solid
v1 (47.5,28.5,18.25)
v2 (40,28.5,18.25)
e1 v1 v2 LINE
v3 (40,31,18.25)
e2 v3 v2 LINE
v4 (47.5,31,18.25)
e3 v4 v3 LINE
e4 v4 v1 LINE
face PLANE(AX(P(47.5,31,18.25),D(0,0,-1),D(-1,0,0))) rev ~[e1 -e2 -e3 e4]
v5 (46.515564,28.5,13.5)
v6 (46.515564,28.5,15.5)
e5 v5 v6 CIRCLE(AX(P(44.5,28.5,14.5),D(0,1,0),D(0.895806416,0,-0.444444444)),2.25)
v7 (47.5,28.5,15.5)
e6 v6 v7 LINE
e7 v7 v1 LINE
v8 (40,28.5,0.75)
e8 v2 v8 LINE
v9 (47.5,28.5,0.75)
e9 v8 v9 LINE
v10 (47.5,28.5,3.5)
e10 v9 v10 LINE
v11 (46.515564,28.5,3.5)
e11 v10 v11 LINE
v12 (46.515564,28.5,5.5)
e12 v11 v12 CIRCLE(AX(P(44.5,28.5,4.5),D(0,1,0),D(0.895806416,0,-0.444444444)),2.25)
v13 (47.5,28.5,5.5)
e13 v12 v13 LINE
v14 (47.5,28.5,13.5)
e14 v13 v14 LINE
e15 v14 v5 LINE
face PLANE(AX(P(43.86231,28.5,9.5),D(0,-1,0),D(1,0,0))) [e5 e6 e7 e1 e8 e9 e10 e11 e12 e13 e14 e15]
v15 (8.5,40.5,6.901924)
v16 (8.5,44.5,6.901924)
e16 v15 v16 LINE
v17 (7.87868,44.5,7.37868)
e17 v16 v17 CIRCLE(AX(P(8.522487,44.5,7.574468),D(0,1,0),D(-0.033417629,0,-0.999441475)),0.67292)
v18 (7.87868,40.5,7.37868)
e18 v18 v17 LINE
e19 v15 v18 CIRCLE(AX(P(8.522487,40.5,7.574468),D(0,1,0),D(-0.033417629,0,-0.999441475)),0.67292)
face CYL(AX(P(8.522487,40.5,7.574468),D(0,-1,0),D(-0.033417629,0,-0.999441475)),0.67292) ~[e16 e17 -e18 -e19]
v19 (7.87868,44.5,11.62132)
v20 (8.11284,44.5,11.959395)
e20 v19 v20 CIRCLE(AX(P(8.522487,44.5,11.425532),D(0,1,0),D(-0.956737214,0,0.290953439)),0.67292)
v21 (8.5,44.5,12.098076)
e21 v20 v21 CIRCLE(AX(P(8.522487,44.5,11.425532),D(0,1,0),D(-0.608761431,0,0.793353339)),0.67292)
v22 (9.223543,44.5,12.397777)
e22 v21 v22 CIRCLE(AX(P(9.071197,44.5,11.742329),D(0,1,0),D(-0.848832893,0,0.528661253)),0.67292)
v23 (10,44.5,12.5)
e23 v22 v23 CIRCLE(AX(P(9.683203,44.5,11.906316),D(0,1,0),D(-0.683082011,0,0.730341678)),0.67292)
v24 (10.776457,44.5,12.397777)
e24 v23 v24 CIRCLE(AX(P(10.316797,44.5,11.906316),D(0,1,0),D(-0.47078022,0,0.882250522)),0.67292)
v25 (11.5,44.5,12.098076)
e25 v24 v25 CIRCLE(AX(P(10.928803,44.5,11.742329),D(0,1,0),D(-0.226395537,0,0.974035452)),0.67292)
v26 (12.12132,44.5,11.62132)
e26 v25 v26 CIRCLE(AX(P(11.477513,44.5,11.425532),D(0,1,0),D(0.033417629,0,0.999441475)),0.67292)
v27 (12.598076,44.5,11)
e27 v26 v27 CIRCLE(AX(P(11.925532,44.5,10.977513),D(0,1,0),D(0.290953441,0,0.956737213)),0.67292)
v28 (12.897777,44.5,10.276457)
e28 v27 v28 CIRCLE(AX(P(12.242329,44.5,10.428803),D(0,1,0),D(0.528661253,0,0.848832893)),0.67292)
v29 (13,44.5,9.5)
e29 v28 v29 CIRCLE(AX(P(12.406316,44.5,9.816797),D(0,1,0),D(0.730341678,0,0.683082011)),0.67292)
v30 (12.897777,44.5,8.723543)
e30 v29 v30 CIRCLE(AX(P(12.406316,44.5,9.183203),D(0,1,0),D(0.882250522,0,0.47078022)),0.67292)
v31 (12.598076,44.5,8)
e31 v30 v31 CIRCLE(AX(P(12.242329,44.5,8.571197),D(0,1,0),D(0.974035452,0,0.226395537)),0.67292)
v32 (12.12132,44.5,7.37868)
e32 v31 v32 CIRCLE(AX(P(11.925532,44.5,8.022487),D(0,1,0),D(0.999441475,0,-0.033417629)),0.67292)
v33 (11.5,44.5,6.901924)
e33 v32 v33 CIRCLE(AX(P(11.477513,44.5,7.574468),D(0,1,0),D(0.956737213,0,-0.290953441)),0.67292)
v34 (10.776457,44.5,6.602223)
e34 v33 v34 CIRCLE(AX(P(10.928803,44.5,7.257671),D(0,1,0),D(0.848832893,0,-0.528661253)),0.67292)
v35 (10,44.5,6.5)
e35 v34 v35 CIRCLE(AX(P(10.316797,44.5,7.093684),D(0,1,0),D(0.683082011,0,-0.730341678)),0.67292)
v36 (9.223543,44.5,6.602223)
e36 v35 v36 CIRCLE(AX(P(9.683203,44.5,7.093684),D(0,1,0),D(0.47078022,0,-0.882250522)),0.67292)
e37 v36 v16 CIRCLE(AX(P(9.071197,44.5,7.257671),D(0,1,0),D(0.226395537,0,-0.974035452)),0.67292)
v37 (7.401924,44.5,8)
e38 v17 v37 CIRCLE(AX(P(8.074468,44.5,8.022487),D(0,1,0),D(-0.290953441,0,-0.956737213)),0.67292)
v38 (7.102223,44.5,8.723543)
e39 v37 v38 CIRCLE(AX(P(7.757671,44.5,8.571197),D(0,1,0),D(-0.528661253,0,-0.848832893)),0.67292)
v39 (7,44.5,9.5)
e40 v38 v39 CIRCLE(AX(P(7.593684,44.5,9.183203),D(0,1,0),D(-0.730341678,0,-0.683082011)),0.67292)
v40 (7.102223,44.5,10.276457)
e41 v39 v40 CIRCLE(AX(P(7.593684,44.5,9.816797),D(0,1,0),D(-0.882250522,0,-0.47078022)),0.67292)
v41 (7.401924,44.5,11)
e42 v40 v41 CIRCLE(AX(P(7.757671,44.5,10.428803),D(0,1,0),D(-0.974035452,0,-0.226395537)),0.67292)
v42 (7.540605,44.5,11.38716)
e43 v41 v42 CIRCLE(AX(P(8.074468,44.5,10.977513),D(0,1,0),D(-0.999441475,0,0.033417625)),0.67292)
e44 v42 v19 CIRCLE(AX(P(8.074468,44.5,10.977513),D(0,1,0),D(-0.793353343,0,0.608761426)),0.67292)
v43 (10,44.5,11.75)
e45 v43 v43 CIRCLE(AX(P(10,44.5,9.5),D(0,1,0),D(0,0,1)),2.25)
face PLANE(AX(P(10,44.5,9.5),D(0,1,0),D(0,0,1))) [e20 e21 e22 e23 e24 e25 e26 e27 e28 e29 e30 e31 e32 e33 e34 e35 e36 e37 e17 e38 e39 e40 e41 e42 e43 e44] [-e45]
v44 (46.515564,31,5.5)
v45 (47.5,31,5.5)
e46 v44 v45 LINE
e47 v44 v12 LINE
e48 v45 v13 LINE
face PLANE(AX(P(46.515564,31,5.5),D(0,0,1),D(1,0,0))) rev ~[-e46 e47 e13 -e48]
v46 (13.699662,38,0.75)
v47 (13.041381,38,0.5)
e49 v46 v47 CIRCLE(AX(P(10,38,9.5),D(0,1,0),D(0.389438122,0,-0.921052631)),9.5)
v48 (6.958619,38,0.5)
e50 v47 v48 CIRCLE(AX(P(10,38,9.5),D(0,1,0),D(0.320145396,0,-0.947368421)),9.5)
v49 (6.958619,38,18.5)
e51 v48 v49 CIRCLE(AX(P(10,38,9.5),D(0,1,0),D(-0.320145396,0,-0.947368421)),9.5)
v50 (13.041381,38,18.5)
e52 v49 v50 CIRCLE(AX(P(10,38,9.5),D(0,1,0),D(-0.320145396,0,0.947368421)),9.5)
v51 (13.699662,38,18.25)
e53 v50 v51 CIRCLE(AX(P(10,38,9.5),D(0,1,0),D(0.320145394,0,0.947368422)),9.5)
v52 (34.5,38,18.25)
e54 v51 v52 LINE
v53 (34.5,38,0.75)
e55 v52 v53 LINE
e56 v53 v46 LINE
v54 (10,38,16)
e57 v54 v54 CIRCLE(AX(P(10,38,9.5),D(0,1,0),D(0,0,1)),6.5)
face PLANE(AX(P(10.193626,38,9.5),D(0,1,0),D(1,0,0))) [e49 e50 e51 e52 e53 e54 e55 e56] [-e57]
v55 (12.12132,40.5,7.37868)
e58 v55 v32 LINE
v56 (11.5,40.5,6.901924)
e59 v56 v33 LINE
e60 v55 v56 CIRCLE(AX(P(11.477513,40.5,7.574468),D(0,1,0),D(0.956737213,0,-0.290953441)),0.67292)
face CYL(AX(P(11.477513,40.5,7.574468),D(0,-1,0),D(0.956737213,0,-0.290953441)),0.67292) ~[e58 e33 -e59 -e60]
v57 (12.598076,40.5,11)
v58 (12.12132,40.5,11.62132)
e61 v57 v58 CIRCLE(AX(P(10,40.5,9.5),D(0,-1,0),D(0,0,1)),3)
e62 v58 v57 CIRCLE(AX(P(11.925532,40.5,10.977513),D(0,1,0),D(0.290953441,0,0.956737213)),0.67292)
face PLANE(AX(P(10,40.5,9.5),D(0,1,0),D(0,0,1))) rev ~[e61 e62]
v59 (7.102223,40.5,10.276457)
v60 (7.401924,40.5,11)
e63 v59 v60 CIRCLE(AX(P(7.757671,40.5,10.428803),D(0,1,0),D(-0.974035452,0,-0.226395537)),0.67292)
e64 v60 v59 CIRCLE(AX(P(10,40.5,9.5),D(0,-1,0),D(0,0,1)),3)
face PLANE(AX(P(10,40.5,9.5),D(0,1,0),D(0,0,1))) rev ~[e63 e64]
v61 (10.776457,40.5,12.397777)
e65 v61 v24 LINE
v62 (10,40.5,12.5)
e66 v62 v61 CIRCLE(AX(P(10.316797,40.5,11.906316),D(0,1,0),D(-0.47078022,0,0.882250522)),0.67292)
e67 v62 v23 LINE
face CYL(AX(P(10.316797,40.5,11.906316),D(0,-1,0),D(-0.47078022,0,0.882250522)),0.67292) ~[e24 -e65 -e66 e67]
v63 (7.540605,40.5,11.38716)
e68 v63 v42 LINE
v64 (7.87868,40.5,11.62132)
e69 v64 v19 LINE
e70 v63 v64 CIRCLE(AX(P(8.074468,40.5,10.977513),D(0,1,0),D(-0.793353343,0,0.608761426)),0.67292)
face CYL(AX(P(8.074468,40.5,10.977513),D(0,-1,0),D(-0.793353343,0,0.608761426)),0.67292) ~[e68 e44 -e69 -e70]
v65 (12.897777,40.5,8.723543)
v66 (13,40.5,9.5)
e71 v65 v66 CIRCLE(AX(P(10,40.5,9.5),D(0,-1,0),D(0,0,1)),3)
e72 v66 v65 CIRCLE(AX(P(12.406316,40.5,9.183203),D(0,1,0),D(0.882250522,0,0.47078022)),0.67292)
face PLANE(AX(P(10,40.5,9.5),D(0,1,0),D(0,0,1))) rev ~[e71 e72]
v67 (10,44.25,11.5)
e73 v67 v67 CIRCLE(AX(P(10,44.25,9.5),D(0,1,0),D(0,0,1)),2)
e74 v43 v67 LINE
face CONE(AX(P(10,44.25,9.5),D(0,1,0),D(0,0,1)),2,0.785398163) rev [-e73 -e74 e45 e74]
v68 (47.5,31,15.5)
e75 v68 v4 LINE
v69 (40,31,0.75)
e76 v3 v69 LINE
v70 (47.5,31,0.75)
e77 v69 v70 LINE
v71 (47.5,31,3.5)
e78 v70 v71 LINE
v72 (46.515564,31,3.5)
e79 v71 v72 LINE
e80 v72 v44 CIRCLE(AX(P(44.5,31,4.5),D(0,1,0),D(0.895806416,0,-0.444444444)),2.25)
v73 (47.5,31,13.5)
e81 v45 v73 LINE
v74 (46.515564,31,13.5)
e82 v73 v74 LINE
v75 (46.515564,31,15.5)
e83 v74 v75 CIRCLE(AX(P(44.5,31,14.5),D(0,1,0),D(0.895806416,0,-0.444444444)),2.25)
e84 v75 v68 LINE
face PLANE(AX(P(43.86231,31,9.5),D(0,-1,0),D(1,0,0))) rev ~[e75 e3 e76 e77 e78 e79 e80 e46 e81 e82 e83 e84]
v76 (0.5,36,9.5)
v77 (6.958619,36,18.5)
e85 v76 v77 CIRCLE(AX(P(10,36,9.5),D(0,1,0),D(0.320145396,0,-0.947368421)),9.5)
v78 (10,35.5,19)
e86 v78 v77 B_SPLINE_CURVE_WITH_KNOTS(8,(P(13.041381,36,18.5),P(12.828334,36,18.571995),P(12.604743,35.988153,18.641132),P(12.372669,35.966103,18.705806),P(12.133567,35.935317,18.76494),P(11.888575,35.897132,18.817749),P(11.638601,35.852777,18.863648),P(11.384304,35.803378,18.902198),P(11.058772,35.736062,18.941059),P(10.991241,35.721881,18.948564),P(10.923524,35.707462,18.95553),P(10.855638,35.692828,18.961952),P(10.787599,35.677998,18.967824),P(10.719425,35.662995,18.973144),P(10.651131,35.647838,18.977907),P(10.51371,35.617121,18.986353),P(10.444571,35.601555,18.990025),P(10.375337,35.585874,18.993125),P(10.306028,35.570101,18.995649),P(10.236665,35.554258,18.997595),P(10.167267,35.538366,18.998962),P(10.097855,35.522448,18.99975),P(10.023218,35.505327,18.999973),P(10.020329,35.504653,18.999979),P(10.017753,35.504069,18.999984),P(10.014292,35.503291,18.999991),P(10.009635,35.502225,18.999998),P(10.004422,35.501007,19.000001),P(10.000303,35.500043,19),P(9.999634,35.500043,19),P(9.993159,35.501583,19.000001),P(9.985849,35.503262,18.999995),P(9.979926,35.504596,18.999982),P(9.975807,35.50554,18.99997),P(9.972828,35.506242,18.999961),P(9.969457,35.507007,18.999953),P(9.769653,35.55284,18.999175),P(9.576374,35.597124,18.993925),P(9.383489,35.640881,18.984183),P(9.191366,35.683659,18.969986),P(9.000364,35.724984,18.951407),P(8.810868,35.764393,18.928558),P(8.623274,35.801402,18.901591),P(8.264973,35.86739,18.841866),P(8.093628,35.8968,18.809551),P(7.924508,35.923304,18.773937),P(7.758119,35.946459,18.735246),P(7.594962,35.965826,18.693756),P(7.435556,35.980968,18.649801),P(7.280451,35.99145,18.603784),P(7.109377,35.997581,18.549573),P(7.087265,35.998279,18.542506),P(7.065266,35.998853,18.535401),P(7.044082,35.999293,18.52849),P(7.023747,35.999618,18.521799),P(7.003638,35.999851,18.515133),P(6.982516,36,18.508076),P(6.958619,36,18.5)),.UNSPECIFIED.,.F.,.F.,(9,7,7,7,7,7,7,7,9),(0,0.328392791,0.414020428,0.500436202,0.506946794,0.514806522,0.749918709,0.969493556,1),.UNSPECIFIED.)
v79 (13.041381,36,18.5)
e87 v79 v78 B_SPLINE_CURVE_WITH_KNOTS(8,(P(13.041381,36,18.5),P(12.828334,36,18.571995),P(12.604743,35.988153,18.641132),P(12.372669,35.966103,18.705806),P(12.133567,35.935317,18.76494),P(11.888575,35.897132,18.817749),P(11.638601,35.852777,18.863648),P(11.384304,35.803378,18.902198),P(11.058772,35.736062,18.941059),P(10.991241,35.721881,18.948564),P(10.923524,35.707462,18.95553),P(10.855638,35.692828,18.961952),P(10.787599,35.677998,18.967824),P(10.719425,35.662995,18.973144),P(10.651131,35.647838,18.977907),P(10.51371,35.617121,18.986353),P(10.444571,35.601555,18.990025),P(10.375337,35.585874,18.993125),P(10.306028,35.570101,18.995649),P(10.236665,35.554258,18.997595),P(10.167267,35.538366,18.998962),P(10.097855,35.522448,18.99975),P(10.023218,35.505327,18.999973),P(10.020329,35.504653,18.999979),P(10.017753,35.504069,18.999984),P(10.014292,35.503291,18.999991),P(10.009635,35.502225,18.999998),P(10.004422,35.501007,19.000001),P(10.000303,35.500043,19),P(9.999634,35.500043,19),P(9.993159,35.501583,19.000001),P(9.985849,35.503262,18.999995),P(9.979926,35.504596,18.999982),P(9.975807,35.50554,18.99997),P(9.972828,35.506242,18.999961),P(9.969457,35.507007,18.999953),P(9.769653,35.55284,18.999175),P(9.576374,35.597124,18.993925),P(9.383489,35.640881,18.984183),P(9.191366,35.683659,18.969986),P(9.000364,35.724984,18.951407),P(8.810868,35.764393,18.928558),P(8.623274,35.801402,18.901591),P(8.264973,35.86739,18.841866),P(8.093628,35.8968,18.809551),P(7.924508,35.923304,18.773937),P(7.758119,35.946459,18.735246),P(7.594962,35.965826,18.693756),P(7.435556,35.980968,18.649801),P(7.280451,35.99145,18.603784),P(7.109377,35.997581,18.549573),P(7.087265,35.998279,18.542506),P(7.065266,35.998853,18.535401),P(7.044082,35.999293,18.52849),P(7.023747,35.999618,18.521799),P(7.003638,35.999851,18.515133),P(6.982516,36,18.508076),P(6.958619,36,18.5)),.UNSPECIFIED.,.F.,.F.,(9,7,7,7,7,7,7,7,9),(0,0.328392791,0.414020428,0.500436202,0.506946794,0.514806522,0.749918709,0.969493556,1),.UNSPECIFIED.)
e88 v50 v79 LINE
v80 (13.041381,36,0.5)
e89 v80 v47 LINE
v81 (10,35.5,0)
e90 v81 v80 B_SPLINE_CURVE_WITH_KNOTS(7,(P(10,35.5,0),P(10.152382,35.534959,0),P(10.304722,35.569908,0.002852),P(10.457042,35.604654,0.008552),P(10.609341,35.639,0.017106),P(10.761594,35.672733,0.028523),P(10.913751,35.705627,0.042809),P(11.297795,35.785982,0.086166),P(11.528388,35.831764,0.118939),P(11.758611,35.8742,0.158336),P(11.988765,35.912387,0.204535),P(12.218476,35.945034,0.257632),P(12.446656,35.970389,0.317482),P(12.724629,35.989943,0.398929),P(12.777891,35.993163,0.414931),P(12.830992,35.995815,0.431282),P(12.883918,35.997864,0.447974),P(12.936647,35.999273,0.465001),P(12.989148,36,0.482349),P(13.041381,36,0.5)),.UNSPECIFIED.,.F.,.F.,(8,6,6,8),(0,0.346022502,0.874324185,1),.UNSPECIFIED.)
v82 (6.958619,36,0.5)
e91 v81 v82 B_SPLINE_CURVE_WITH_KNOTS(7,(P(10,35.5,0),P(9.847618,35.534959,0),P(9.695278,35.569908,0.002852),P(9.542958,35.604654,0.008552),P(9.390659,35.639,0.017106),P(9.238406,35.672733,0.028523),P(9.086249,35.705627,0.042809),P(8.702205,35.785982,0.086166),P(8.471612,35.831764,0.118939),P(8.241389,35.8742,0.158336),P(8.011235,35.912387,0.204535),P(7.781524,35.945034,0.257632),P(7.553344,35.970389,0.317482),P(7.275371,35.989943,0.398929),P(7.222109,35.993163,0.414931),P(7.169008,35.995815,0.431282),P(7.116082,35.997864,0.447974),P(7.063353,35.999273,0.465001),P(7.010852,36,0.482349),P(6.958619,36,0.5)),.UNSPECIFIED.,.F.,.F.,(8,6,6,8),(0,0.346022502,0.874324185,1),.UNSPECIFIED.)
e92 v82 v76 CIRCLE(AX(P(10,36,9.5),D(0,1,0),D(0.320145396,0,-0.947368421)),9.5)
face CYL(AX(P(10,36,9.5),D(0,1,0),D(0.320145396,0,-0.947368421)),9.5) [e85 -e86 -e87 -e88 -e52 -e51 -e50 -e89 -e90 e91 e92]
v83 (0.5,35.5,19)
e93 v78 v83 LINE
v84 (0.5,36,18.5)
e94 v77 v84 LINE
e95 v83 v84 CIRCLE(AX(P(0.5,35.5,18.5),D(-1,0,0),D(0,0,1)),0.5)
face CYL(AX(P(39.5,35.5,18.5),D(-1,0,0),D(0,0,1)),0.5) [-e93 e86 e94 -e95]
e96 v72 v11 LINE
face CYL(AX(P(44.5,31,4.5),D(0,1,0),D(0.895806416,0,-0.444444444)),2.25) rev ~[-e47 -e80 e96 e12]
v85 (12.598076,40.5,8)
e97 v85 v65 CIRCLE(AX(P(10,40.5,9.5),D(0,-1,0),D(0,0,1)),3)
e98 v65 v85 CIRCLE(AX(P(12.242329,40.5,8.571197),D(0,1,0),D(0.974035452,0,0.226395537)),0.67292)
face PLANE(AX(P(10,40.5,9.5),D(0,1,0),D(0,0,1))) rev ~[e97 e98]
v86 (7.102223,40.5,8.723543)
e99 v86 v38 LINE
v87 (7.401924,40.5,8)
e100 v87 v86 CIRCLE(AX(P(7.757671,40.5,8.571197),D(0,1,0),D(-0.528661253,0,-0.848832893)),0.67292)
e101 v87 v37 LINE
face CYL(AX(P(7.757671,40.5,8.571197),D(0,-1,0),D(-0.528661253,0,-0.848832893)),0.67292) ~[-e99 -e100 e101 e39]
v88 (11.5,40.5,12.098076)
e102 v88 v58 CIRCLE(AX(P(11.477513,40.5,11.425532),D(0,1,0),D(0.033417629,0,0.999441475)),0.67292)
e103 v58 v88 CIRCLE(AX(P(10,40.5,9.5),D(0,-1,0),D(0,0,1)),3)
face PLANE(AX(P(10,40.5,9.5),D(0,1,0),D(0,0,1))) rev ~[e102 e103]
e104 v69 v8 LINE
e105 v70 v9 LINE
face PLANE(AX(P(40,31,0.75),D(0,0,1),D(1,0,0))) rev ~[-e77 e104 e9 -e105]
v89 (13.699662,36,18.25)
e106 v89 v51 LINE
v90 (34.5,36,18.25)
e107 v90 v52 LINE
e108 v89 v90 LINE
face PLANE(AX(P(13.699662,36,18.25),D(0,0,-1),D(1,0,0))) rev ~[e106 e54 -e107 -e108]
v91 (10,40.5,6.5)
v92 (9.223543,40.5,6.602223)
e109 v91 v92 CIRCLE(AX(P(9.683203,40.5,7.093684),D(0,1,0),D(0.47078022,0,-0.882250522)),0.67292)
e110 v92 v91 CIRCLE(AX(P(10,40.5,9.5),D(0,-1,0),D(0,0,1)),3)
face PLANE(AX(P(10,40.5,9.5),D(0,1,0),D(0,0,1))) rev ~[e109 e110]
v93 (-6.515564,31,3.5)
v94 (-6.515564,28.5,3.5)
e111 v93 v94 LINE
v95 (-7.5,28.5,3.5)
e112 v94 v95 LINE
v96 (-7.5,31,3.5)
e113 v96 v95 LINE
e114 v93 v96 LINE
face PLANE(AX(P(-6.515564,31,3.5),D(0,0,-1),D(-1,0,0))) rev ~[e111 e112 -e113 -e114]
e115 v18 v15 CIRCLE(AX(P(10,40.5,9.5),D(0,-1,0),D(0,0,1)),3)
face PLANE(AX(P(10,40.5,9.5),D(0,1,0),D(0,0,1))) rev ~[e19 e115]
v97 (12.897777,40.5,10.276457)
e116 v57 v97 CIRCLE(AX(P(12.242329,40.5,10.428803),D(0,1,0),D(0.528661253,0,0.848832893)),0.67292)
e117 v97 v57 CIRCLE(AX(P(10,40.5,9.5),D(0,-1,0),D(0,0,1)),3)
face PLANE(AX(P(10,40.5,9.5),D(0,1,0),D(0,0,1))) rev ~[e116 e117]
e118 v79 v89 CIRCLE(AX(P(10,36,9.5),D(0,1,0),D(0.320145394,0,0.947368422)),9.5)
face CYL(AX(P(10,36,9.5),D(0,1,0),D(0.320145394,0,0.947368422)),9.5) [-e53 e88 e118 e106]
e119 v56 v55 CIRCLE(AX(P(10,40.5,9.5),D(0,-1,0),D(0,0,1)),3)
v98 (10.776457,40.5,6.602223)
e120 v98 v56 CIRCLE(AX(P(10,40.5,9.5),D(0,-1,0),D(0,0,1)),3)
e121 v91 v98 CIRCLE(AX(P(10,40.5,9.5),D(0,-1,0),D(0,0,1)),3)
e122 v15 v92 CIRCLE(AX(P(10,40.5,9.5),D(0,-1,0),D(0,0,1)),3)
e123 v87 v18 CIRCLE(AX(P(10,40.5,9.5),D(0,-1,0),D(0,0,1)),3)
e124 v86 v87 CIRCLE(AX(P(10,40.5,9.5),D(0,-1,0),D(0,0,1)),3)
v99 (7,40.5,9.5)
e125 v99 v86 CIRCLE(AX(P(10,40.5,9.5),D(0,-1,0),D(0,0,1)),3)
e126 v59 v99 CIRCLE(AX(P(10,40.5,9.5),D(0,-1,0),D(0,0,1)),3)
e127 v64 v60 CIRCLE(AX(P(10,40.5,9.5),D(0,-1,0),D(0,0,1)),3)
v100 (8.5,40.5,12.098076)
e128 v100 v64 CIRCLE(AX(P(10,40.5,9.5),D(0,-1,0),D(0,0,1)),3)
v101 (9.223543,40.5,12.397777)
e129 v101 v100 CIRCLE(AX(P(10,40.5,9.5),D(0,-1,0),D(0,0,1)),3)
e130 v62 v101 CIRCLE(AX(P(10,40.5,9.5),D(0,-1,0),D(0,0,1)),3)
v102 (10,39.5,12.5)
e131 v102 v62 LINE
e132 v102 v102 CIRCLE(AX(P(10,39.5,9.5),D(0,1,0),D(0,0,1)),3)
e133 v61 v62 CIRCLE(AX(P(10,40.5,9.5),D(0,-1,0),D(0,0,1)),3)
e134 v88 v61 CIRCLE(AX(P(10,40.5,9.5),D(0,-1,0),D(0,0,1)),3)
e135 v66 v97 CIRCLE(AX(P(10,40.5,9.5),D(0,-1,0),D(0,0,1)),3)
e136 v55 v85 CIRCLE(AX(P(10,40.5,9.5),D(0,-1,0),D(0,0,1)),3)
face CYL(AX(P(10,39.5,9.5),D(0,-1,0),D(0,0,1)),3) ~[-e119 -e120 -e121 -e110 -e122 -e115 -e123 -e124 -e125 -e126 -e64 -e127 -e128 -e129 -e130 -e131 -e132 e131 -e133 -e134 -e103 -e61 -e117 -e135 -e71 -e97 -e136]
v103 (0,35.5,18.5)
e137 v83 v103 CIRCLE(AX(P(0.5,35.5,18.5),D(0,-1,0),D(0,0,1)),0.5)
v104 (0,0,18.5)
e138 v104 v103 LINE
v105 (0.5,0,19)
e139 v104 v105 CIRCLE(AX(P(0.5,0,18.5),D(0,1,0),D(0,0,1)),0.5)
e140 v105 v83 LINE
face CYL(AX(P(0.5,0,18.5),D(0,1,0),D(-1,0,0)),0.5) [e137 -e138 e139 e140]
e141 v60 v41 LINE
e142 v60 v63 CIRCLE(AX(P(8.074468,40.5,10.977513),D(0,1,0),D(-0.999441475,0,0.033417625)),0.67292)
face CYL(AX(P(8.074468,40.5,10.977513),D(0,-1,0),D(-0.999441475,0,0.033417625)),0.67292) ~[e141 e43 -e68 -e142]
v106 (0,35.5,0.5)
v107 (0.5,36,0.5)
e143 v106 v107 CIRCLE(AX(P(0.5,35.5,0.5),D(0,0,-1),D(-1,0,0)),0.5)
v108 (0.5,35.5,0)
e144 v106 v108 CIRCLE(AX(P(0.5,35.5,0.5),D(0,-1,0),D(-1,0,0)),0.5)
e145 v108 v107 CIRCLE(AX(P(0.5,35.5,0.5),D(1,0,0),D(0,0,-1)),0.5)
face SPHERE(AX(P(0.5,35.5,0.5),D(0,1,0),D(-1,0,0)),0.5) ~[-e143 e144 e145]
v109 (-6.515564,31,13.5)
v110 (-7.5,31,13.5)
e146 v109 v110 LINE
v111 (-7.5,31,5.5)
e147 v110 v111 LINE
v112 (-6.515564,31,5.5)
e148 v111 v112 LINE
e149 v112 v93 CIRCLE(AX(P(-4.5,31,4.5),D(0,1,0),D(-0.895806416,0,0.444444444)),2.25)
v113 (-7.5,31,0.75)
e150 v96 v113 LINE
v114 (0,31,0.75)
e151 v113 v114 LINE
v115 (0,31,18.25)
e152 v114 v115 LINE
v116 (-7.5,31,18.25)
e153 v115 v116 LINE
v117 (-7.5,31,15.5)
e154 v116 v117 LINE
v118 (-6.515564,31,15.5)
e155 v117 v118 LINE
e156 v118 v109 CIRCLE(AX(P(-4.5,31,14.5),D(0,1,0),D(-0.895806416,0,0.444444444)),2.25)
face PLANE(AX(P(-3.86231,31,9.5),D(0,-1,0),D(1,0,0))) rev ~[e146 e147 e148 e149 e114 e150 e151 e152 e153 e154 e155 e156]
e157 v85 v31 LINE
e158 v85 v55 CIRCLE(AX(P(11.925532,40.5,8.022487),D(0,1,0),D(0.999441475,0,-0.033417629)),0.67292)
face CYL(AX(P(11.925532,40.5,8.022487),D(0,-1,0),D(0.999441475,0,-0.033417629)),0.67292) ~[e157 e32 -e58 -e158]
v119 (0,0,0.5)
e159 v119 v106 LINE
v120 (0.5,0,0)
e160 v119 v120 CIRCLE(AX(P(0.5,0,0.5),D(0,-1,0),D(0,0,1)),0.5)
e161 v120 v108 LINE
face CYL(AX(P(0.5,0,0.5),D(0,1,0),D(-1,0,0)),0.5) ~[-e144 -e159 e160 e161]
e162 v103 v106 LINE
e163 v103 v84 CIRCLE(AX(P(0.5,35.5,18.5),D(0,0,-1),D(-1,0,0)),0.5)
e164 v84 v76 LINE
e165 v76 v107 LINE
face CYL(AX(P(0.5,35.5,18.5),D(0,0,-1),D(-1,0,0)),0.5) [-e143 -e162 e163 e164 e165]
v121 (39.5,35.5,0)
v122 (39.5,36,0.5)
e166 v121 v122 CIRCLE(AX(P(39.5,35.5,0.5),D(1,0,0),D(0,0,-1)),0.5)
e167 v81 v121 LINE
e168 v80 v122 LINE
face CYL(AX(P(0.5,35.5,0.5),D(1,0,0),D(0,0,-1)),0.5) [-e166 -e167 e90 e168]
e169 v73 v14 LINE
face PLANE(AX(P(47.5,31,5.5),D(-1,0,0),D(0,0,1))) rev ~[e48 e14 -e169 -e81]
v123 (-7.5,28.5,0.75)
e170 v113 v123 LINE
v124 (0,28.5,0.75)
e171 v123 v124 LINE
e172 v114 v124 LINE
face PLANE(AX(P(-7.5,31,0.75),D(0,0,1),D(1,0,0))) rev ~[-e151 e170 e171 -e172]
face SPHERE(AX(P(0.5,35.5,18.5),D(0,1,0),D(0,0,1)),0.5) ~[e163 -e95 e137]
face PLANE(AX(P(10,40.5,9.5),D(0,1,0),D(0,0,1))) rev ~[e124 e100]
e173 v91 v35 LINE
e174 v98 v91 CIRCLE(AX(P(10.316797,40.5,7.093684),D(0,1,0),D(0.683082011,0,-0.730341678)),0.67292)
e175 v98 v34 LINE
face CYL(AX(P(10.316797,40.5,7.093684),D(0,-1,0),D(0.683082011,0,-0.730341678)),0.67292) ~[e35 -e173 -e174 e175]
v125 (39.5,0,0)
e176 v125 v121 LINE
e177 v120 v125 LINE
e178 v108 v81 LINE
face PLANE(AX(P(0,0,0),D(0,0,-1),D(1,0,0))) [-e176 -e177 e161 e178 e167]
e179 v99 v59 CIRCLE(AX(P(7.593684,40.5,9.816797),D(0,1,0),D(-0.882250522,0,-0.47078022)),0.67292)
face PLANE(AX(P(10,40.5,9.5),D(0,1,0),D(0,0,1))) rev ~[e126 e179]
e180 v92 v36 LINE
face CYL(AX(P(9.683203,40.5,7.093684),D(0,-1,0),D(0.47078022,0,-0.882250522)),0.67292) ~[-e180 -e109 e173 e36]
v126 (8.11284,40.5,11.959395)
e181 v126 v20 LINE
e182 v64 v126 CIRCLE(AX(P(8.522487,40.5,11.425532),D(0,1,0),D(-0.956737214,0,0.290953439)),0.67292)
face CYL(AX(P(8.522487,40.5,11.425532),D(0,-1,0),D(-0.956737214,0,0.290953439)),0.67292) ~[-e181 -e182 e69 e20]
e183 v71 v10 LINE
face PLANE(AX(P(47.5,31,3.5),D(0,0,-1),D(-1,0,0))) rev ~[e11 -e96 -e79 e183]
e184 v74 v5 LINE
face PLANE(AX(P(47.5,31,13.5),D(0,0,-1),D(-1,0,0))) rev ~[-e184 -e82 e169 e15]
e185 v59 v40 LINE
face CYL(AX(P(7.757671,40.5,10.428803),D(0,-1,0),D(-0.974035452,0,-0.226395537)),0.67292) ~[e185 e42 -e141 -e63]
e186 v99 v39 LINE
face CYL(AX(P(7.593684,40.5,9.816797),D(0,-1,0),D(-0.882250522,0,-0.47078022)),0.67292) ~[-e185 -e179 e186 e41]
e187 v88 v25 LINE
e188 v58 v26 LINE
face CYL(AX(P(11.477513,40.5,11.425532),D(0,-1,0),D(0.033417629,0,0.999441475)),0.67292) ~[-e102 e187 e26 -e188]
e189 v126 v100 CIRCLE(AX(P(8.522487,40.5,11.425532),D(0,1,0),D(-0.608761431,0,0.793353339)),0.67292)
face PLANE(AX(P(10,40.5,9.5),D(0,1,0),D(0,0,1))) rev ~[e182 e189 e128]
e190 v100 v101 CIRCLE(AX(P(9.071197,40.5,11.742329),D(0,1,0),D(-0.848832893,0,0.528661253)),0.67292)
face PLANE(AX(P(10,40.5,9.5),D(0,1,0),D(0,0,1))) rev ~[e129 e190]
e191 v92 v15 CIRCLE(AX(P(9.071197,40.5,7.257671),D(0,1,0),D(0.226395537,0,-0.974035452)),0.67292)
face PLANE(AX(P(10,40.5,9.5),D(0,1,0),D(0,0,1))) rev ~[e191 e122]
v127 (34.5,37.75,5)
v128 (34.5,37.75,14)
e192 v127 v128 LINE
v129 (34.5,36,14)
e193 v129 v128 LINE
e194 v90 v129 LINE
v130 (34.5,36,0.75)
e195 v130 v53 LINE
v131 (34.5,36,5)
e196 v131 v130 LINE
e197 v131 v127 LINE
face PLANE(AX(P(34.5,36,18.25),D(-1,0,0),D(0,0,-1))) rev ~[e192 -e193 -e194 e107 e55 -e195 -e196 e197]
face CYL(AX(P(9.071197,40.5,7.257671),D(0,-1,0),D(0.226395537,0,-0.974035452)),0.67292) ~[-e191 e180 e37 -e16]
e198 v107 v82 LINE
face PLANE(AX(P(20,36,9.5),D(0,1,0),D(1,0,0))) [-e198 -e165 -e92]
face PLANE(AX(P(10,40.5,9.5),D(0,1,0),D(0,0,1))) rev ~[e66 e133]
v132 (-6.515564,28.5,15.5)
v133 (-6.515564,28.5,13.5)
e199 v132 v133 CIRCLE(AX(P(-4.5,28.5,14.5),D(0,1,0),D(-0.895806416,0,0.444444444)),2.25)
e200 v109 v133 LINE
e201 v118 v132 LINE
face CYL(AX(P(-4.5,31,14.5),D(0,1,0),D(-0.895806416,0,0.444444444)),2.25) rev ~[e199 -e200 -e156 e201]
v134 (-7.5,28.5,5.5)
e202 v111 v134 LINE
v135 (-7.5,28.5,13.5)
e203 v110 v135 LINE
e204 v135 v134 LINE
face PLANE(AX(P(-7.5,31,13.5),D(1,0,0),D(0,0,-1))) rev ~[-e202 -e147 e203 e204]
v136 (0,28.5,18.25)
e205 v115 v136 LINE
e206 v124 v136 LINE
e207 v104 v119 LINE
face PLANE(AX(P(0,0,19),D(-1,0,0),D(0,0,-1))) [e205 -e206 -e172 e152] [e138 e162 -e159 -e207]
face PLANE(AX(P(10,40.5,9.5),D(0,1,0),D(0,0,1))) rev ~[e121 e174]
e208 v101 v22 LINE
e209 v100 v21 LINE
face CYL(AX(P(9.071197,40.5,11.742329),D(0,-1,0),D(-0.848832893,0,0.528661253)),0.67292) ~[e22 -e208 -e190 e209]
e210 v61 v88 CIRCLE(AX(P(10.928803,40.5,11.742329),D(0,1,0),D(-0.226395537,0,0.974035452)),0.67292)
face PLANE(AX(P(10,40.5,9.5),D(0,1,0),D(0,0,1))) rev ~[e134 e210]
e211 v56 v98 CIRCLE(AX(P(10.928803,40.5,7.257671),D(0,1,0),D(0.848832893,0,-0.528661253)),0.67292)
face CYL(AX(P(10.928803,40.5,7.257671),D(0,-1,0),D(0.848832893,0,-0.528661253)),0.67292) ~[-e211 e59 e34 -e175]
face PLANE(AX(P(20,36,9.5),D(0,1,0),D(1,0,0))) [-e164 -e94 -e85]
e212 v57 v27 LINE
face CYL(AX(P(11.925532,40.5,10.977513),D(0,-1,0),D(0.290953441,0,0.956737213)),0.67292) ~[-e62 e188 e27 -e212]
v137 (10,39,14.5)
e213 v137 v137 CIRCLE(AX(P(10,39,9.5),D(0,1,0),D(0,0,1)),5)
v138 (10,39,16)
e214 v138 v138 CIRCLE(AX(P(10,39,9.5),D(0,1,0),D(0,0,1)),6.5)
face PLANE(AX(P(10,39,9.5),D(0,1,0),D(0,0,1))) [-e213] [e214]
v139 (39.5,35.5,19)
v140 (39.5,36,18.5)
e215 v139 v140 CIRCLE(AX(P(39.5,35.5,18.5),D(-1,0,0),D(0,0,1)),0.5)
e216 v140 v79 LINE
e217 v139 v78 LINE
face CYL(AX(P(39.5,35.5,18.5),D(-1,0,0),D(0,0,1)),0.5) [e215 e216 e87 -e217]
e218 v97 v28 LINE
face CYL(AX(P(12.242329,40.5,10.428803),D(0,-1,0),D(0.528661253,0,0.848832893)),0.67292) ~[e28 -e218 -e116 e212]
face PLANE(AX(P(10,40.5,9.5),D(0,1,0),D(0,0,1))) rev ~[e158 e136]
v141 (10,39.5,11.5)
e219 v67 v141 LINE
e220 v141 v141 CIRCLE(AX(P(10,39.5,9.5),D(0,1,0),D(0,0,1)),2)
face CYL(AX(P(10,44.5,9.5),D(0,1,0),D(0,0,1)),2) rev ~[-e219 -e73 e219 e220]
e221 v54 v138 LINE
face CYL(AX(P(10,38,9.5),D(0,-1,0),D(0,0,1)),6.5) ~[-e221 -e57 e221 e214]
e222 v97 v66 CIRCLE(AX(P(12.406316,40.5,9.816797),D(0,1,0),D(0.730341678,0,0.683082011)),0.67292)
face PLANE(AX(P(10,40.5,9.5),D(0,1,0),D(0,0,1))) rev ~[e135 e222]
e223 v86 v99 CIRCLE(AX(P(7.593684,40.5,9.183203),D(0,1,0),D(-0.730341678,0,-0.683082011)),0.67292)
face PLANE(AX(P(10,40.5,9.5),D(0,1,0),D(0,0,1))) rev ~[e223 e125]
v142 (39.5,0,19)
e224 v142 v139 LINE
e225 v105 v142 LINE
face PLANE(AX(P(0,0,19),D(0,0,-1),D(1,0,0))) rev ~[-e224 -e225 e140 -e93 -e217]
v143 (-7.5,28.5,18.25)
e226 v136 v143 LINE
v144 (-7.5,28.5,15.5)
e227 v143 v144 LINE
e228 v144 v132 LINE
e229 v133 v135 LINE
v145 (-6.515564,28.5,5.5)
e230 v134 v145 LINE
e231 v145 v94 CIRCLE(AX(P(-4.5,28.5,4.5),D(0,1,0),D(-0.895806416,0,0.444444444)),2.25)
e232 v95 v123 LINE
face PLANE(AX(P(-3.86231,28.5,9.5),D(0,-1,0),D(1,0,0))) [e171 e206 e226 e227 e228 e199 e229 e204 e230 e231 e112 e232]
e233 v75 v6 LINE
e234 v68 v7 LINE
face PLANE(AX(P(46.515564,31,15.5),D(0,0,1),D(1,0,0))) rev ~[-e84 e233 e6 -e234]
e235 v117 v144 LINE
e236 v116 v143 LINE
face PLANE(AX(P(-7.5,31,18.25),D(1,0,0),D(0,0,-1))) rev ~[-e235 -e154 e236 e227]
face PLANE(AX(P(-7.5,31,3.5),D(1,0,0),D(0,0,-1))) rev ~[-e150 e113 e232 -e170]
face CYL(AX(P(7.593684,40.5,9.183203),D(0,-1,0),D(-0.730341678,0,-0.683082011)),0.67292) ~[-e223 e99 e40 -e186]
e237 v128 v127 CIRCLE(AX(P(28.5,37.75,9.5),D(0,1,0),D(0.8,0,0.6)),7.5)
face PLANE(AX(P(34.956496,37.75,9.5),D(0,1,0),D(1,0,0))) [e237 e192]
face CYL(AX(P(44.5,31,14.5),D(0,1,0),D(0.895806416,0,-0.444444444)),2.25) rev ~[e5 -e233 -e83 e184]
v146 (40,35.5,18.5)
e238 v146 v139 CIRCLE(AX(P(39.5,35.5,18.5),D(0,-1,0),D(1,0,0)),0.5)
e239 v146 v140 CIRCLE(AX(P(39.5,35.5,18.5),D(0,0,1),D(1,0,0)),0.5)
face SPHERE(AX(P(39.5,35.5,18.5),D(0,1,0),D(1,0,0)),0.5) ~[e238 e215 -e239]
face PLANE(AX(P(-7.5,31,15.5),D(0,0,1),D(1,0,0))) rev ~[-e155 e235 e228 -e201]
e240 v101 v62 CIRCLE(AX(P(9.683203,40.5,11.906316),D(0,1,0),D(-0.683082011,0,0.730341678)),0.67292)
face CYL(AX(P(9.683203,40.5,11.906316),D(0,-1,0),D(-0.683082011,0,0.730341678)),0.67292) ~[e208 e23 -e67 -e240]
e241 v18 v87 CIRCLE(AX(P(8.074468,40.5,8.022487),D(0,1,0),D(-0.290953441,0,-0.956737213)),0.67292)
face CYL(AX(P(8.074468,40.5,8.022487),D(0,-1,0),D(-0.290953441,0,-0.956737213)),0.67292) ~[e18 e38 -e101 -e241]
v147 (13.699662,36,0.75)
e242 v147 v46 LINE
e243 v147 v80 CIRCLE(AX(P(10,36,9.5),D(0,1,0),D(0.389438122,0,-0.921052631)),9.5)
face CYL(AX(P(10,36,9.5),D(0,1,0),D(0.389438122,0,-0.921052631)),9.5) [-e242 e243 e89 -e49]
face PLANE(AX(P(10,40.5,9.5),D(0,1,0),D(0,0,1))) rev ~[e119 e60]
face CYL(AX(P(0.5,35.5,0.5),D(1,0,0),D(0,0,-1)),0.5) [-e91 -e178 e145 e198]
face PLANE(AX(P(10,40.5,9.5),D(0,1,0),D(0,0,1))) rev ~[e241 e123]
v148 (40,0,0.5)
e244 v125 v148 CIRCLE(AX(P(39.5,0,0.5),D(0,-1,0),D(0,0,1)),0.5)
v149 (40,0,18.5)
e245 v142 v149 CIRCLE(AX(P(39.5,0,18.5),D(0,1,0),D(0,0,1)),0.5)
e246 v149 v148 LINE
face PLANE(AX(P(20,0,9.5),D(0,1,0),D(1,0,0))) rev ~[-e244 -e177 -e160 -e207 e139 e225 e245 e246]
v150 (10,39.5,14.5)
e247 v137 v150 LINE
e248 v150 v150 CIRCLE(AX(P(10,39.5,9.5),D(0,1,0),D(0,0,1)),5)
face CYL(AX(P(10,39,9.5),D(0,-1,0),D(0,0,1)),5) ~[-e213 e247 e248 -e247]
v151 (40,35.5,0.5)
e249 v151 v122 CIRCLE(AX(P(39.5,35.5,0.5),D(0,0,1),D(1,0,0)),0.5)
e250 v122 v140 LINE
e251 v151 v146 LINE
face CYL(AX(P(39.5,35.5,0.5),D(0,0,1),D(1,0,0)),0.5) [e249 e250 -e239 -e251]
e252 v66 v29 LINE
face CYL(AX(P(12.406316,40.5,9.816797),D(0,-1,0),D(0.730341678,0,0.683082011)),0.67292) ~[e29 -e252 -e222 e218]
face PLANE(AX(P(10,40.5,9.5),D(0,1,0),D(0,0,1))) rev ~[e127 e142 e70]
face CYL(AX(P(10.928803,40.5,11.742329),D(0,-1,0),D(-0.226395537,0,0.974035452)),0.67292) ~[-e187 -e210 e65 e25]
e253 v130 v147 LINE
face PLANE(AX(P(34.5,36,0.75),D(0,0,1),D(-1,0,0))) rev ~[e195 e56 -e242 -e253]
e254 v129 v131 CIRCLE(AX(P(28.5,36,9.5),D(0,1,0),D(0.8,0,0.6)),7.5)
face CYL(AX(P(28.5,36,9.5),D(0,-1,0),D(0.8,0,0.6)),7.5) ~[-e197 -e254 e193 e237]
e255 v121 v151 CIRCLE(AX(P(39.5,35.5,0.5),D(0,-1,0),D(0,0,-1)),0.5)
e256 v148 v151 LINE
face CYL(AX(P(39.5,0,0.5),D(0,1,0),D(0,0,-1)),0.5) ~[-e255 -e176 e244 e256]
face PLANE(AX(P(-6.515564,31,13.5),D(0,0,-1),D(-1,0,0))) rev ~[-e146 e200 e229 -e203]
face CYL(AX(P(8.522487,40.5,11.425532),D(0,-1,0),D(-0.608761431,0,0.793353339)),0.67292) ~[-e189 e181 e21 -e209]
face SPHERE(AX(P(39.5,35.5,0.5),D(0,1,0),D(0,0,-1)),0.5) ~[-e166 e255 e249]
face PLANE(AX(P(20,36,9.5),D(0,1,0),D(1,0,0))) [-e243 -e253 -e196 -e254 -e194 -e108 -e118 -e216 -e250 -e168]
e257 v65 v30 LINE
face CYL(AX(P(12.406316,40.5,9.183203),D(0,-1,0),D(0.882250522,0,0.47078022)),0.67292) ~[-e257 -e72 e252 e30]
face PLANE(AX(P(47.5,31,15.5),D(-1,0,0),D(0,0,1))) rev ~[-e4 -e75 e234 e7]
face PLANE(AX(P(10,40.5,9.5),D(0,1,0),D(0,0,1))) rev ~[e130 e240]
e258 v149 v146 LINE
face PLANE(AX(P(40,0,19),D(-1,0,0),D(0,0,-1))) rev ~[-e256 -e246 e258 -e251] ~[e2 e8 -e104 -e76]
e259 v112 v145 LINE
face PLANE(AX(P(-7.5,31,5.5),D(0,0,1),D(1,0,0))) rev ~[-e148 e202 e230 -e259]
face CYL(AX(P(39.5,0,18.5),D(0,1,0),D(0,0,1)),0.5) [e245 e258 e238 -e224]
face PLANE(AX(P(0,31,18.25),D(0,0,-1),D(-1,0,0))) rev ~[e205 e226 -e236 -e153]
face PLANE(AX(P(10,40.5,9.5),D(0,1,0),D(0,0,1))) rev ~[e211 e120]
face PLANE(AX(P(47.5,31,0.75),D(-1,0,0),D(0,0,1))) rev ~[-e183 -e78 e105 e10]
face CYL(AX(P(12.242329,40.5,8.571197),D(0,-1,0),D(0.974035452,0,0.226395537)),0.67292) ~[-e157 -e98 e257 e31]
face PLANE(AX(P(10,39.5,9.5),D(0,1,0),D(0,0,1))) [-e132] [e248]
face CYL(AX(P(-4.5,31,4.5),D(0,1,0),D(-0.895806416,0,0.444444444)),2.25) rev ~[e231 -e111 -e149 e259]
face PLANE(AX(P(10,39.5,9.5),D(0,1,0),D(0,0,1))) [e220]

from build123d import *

# Parameters (mm, degrees)
CROQUIS1_W              = 40
CROQUIS1_H              = 19
SALIENTE_EXTRUIR1_DEPTH = 36
SALIENTE_EXTRUIR2_DEPTH = 2.5
REDONDEO1_R             = 0.5
REDONDEO2_R             = 0.5
SALIENTE_EXTRUIR3_DEPTH = 2
SALIENTE_EXTRUIR4_DEPTH = 2
CROQUIS5_R              = 6.5
SALIENTE_EXTRUIR5_DEPTH = 1
CROQUIS6_R              = 5
SALIENTE_EXTRUIR6_DEPTH = 0.5
CROQUIS7_R              = 3
SALIENTE_EXTRUIR7_DEPTH = 5
SALIENTE_EXTRUIR8_START = -4
CROQUIS8_R              = 3
SALIENTE_EXTRUIR8_DEPTH = 4
CROQUIS9_R              = 2
CORTAR_EXTRUIR1_DEPTH   = 5
CHAFL_N1_SIZE           = 0.25
SALIENTE_EXTRUIR9_DEPTH = 1.75


with BuildPart() as part:
    # Croquis1 → Saliente-Extruir1 (new body)
    with BuildSketch(Plane(origin=(0, 0, 0), x_dir=(1, 0, 0), z_dir=(0, 1, 0))):
        with Locations((20, -9.5)):
            Rectangle(CROQUIS1_W, CROQUIS1_H)
    extrude(amount=SALIENTE_EXTRUIR1_DEPTH)

    # Croquis2 → Saliente-Extruir2 (add)
    with BuildSketch(Plane(origin=(0, 31, 0), x_dir=(-1, 0, 0), z_dir=(0, 1, 0))):
        with BuildLine():
            ThreePointArc((-46.515564437, 3.5), (-42.25, 4.5), (-46.515564437, 5.5))
            Line((-46.515564437, 5.5), (-47.5, 5.5))
            Line((-47.5, 5.5), (-47.5, 13.5))
            Line((-47.5, 13.5), (-46.515564437, 13.5))
            ThreePointArc((-46.515564437, 13.5), (-42.25, 14.5), (-46.515564437, 15.5))
            Line((-46.515564437, 15.5), (-47.5, 15.5))
            Line((-47.5, 15.5), (-47.5, 18.25))
            Line((-47.5, 18.25), (-40, 18.25))
            Line((-40, 18.25), (-40, 0.75))
            Line((-40, 0.75), (-47.5, 0.75))
            Line((-47.5, 0.75), (-47.5, 3.5))
            Line((-47.5, 3.5), (-46.515564437, 3.5))
        make_face()
        with BuildLine():
            Line((6.515564437, 13.5), (7.5, 13.5))
            Line((7.5, 13.5), (7.5, 5.5))
            Line((7.5, 5.5), (6.515564437, 5.5))
            ThreePointArc((6.515564437, 5.5), (2.25, 4.5), (6.515564437, 3.5))
            Line((6.515564437, 3.5), (7.5, 3.5))
            Line((7.5, 3.5), (7.5, 0.75))
            Line((7.5, 0.75), (0, 0.75))
            Line((0, 0.75), (0, 18.25))
            Line((0, 18.25), (7.5, 18.25))
            Line((7.5, 18.25), (7.5, 15.5))
            Line((7.5, 15.5), (6.515564437, 15.5))
            ThreePointArc((6.515564437, 15.5), (2.25, 14.5), (6.515564437, 13.5))
        make_face()
    extrude(amount=-SALIENTE_EXTRUIR2_DEPTH)

    # Redondeo1
    redondeo1_edges = [part.edges().sort_by_distance(p)[0] for p in [
        (0, 18, 0),
        (40, 18, 0),
        (40, 18, 19),
        (0, 18, 19),
    ]]
    fillet(redondeo1_edges, radius=REDONDEO1_R)

    # Redondeo2
    redondeo2_edges = [part.edges().sort_by_distance(p)[0] for p in [
        (0, 36, 9.5),
        (20, 36, 0),
        (20, 36, 19),
        (40, 36, 9.5),
        (39.853553391, 36, 18.853553391),
        (39.853553391, 36, 0.146446609),
        (0.146446609, 36, 18.853553391),
        (0.146446609, 36, 0.146446609),
    ]]
    fillet(redondeo2_edges, radius=REDONDEO2_R)

    # Croquis3 → Saliente-Extruir3 (add)
    with BuildSketch(Plane(origin=(0, 36, 0), x_dir=(1, 0, 0), z_dir=(0, 1, 0))):
        with BuildLine():
            Line((34.5, -18.25), (34.5, -0.75))
            Line((34.5, -0.75), (14.5, -0.75))
            Line((14.5, -0.75), (13.699662147, -0.75))
            ThreePointArc((13.699662147, -0.75), (17.918231823, -4.25103774), (19.5, -9.5))
            ThreePointArc((19.5, -9.5), (17.918231823, -14.74896226), (13.699662147, -18.25))
            Line((13.699662147, -18.25), (14.5, -18.25))
            Line((14.5, -18.25), (34.5, -18.25))
        make_face()
    extrude(amount=SALIENTE_EXTRUIR3_DEPTH)

    # Croquis4 → Saliente-Extruir4 (add, symmetric)
    with BuildSketch(Plane(origin=(0, 36, 0), x_dir=(1, 0, 0), z_dir=(0, 1, 0))):
        with BuildLine():
            ThreePointArc((19.5, -9.5), (17.918231823, -4.25103774), (13.699662147, -0.75))
            ThreePointArc((13.699662147, -0.75), (13.3728388, -0.618898805), (13.041381265, -0.5))
            Line((13.041381265, -0.5), (6.958618735, -0.5))
            ThreePointArc((6.958618735, -0.5), (0.5, -9.5), (6.958618735, -18.5))
            Line((6.958618735, -18.5), (13.041381265, -18.5))
            ThreePointArc((13.041381265, -18.5), (13.3728388, -18.381101195), (13.699662147, -18.25))
            ThreePointArc((13.699662147, -18.25), (17.918231823, -14.74896226), (19.5, -9.5))
        make_face()
        with BuildLine():
            ThreePointArc((6.958618735, -18.5), (10, -19), (13.041381265, -18.5))
            Line((13.041381265, -18.5), (6.958618735, -18.5))
        make_face()
        with BuildLine():
            Line((6.958618735, -0.5), (13.041381265, -0.5))
            ThreePointArc((13.041381265, -0.5), (10, 0), (6.958618735, -0.5))
        make_face()
    extrude(amount=SALIENTE_EXTRUIR4_DEPTH, both=True)

    # Croquis5 → Saliente-Extruir5 (add)
    with BuildSketch(Plane(origin=(0, 38, 0), x_dir=(1, 0, 0), z_dir=(0, 1, 0))):
        with Locations(Location((10, -9.5, 0), (0, 0, 270))):
            Circle(CROQUIS5_R)
    extrude(amount=SALIENTE_EXTRUIR5_DEPTH)

    # Croquis6 → Saliente-Extruir6 (add)
    with BuildSketch(Plane(origin=(0, 39, 0), x_dir=(1, 0, 0), z_dir=(0, 1, 0))):
        with Locations(Location((10, -9.5, 0), (0, 0, 270))):
            Circle(CROQUIS6_R)
    extrude(amount=SALIENTE_EXTRUIR6_DEPTH)

    # Croquis7 → Saliente-Extruir7 (add)
    with BuildSketch(Plane(origin=(0, 39.5, 0), x_dir=(1, 0, 0), z_dir=(0, 1, 0))):
        with Locations(Location((10, -9.5, 0), (0, 0, 270))):
            Circle(CROQUIS7_R)
    extrude(amount=SALIENTE_EXTRUIR7_DEPTH)

    # Croquis8 → Saliente-Extruir8 (add)
    with BuildSketch(Plane(origin=(0, 44.5, 0), x_dir=(1, 0, 0), z_dir=(0, 1, 0)).offset(SALIENTE_EXTRUIR8_START)):
        with Locations(Location((10, -9.5, 0), (0, 0, 270))):
            Circle(CROQUIS8_R)
        with BuildLine():
            ThreePointArc((8.5, -6.901923789), (8.11283957, -7.040604645), (7.878679656, -7.378679656))
            ThreePointArc((7.878679656, -7.378679656), (8.173715713, -7.119939979), (8.5, -6.901923789))
        make_face()
        with BuildLine():
            ThreePointArc((9.223542865, -6.602222521), (8.81368136, -6.635973449), (8.5, -6.901923789))
            ThreePointArc((8.5, -6.901923789), (8.851949703, -6.728361402), (9.223542865, -6.602222521))
        make_face()
        with BuildLine():
            ThreePointArc((10, -6.5), (9.595368804, -6.42652093), (9.223542865, -6.602222521))
            ThreePointArc((9.223542865, -6.602222521), (9.608421423, -6.525665416), (10, -6.5))
        make_face()
        with BuildLine():
            ThreePointArc((10.776457135, -6.602222521), (10.404631196, -6.42652093), (10, -6.5))
            ThreePointArc((10, -6.5), (10.391578577, -6.525665416), (10.776457135, -6.602222521))
        make_face()
        with BuildLine():
            ThreePointArc((11.5, -6.901923789), (11.18631864, -6.635973449), (10.776457135, -6.602222521))
            ThreePointArc((10.776457135, -6.602222521), (11.148050297, -6.728361402), (11.5, -6.901923789))
        make_face()
        with BuildLine():
            ThreePointArc((12.121320344, -7.378679656), (11.88716043, -7.040604645), (11.5, -6.901923789))
            ThreePointArc((11.5, -6.901923789), (11.826284287, -7.119939979), (12.121320344, -7.378679656))
        make_face()
        with BuildLine():
            ThreePointArc((12.598076211, -8), (12.771638598, -8.351949703), (12.897777479, -8.723542865))
            ThreePointArc((12.897777479, -8.723542865), (12.864026551, -8.31368136), (12.598076211, -8))
        make_face()
        with BuildLine():
            ThreePointArc((12.897777479, -8.723542865), (12.974334584, -9.108421423), (13, -9.5))
            ThreePointArc((13, -9.5), (13.07347907, -9.095368804), (12.897777479, -8.723542865))
        make_face()
        with BuildLine():
            ThreePointArc((12.121320344, -7.378679656), (12.380060021, -7.673715713), (12.598076211, -8))
            ThreePointArc((12.598076211, -8), (12.459395355, -7.61283957), (12.121320344, -7.378679656))
        make_face()
        with BuildLine():
            ThreePointArc((7.878679656, -7.378679656), (7.540604645, -7.61283957), (7.401923789, -8))
            ThreePointArc((7.401923789, -8), (7.619939979, -7.673715713), (7.878679656, -7.378679656))
        make_face()
        with BuildLine():
            ThreePointArc((7.401923789, -11), (7.440963384, -11.204433973), (7.540604645, -11.38716043))
            ThreePointArc((7.540604645, -11.38716043), (7.691315793, -11.530699585), (7.878679656, -11.621320344))
            ThreePointArc((7.878679656, -11.621320344), (7.619939979, -11.326284287), (7.401923789, -11))
        make_face()
        with BuildLine():
            ThreePointArc((7.102222521, -10.276457135), (7.135973449, -10.68631864), (7.401923789, -11))
            ThreePointArc((7.401923789, -11), (7.228361402, -10.648050297), (7.102222521, -10.276457135))
        make_face()
        with BuildLine():
            ThreePointArc((7, -9.5), (6.92652093, -9.904631196), (7.102222521, -10.276457135))
            ThreePointArc((7.102222521, -10.276457135), (7.025665416, -9.891578577), (7, -9.5))
        make_face()
        with BuildLine():
            ThreePointArc((7.102222521, -8.723542865), (6.92652093, -9.095368804), (7, -9.5))
            ThreePointArc((7, -9.5), (7.025665416, -9.108421423), (7.102222521, -8.723542865))
        make_face()
        with BuildLine():
            ThreePointArc((7.401923789, -8), (7.135973449, -8.31368136), (7.102222521, -8.723542865))
            ThreePointArc((7.102222521, -8.723542865), (7.228361402, -8.351949703), (7.401923789, -8))
        make_face()
        with BuildLine():
            ThreePointArc((7.878679656, -11.621320344), (7.969300415, -11.808684207), (8.11283957, -11.959395355))
            ThreePointArc((8.11283957, -11.959395355), (8.295566027, -12.059036616), (8.5, -12.098076211))
            ThreePointArc((8.5, -12.098076211), (8.173715713, -11.880060021), (7.878679656, -11.621320344))
        make_face()
        with BuildLine():
            ThreePointArc((9.223542865, -12.397777479), (8.851949703, -12.271638598), (8.5, -12.098076211))
            ThreePointArc((8.5, -12.098076211), (8.81368136, -12.364026551), (9.223542865, -12.397777479))
        make_face()
        with BuildLine():
            ThreePointArc((10, -12.5), (9.608421423, -12.474334584), (9.223542865, -12.397777479))
            ThreePointArc((9.223542865, -12.397777479), (9.595368804, -12.57347907), (10, -12.5))
        make_face()
        with BuildLine():
            ThreePointArc((10.776457135, -12.397777479), (10.391578577, -12.474334584), (10, -12.5))
            ThreePointArc((10, -12.5), (10.404631196, -12.57347907), (10.776457135, -12.397777479))
        make_face()
        with BuildLine():
            ThreePointArc((11.5, -12.098076211), (11.148050297, -12.271638598), (10.776457135, -12.397777479))
            ThreePointArc((10.776457135, -12.397777479), (11.18631864, -12.364026551), (11.5, -12.098076211))
        make_face()
        with BuildLine():
            ThreePointArc((12.121320344, -11.621320344), (11.826284287, -11.880060021), (11.5, -12.098076211))
            ThreePointArc((11.5, -12.098076211), (11.88716043, -11.959395355), (12.121320344, -11.621320344))
        make_face()
        with BuildLine():
            ThreePointArc((12.598076211, -11), (12.380060021, -11.326284287), (12.121320344, -11.621320344))
            ThreePointArc((12.121320344, -11.621320344), (12.459395355, -11.38716043), (12.598076211, -11))
        make_face()
        with BuildLine():
            ThreePointArc((12.897777479, -10.276457135), (12.771638598, -10.648050297), (12.598076211, -11))
            ThreePointArc((12.598076211, -11), (12.864026551, -10.68631864), (12.897777479, -10.276457135))
        make_face()
        with BuildLine():
            ThreePointArc((13, -9.5), (12.974334584, -9.891578577), (12.897777479, -10.276457135))
            ThreePointArc((12.897777479, -10.276457135), (13.07347907, -9.904631196), (13, -9.5))
        make_face()
    extrude(amount=SALIENTE_EXTRUIR8_DEPTH)

    # Croquis9 → Cortar-Extruir1 (cut)
    with BuildSketch(Plane(origin=(0, 44.5, 0), x_dir=(1, 0, 0), z_dir=(0, 1, 0))):
        with Locations(Location((10, -9.5, 0), (0, 0, 270))):
            Circle(CROQUIS9_R)
    extrude(amount=-CORTAR_EXTRUIR1_DEPTH, mode=Mode.SUBTRACT)

    # Chaflán1
    chafl_n1_edges = [part.edges().sort_by_distance(p)[0] for p in [
        (10, 44.5, 7.5),
    ]]
    chamfer(chafl_n1_edges, length=CHAFL_N1_SIZE)

    # Croquis10 → Saliente-Extruir9 (add)
    with BuildSketch(Plane(origin=(0, 36, 0), x_dir=(1, 0, 0), z_dir=(0, 1, 0))):
        with BuildLine():
            ThreePointArc((34.5, -14), (36, -9.5), (34.5, -5))
            Line((34.5, -5), (34.5, -14))
        make_face()
    extrude(amount=SALIENTE_EXTRUIR9_DEPTH)


solid = part.part
